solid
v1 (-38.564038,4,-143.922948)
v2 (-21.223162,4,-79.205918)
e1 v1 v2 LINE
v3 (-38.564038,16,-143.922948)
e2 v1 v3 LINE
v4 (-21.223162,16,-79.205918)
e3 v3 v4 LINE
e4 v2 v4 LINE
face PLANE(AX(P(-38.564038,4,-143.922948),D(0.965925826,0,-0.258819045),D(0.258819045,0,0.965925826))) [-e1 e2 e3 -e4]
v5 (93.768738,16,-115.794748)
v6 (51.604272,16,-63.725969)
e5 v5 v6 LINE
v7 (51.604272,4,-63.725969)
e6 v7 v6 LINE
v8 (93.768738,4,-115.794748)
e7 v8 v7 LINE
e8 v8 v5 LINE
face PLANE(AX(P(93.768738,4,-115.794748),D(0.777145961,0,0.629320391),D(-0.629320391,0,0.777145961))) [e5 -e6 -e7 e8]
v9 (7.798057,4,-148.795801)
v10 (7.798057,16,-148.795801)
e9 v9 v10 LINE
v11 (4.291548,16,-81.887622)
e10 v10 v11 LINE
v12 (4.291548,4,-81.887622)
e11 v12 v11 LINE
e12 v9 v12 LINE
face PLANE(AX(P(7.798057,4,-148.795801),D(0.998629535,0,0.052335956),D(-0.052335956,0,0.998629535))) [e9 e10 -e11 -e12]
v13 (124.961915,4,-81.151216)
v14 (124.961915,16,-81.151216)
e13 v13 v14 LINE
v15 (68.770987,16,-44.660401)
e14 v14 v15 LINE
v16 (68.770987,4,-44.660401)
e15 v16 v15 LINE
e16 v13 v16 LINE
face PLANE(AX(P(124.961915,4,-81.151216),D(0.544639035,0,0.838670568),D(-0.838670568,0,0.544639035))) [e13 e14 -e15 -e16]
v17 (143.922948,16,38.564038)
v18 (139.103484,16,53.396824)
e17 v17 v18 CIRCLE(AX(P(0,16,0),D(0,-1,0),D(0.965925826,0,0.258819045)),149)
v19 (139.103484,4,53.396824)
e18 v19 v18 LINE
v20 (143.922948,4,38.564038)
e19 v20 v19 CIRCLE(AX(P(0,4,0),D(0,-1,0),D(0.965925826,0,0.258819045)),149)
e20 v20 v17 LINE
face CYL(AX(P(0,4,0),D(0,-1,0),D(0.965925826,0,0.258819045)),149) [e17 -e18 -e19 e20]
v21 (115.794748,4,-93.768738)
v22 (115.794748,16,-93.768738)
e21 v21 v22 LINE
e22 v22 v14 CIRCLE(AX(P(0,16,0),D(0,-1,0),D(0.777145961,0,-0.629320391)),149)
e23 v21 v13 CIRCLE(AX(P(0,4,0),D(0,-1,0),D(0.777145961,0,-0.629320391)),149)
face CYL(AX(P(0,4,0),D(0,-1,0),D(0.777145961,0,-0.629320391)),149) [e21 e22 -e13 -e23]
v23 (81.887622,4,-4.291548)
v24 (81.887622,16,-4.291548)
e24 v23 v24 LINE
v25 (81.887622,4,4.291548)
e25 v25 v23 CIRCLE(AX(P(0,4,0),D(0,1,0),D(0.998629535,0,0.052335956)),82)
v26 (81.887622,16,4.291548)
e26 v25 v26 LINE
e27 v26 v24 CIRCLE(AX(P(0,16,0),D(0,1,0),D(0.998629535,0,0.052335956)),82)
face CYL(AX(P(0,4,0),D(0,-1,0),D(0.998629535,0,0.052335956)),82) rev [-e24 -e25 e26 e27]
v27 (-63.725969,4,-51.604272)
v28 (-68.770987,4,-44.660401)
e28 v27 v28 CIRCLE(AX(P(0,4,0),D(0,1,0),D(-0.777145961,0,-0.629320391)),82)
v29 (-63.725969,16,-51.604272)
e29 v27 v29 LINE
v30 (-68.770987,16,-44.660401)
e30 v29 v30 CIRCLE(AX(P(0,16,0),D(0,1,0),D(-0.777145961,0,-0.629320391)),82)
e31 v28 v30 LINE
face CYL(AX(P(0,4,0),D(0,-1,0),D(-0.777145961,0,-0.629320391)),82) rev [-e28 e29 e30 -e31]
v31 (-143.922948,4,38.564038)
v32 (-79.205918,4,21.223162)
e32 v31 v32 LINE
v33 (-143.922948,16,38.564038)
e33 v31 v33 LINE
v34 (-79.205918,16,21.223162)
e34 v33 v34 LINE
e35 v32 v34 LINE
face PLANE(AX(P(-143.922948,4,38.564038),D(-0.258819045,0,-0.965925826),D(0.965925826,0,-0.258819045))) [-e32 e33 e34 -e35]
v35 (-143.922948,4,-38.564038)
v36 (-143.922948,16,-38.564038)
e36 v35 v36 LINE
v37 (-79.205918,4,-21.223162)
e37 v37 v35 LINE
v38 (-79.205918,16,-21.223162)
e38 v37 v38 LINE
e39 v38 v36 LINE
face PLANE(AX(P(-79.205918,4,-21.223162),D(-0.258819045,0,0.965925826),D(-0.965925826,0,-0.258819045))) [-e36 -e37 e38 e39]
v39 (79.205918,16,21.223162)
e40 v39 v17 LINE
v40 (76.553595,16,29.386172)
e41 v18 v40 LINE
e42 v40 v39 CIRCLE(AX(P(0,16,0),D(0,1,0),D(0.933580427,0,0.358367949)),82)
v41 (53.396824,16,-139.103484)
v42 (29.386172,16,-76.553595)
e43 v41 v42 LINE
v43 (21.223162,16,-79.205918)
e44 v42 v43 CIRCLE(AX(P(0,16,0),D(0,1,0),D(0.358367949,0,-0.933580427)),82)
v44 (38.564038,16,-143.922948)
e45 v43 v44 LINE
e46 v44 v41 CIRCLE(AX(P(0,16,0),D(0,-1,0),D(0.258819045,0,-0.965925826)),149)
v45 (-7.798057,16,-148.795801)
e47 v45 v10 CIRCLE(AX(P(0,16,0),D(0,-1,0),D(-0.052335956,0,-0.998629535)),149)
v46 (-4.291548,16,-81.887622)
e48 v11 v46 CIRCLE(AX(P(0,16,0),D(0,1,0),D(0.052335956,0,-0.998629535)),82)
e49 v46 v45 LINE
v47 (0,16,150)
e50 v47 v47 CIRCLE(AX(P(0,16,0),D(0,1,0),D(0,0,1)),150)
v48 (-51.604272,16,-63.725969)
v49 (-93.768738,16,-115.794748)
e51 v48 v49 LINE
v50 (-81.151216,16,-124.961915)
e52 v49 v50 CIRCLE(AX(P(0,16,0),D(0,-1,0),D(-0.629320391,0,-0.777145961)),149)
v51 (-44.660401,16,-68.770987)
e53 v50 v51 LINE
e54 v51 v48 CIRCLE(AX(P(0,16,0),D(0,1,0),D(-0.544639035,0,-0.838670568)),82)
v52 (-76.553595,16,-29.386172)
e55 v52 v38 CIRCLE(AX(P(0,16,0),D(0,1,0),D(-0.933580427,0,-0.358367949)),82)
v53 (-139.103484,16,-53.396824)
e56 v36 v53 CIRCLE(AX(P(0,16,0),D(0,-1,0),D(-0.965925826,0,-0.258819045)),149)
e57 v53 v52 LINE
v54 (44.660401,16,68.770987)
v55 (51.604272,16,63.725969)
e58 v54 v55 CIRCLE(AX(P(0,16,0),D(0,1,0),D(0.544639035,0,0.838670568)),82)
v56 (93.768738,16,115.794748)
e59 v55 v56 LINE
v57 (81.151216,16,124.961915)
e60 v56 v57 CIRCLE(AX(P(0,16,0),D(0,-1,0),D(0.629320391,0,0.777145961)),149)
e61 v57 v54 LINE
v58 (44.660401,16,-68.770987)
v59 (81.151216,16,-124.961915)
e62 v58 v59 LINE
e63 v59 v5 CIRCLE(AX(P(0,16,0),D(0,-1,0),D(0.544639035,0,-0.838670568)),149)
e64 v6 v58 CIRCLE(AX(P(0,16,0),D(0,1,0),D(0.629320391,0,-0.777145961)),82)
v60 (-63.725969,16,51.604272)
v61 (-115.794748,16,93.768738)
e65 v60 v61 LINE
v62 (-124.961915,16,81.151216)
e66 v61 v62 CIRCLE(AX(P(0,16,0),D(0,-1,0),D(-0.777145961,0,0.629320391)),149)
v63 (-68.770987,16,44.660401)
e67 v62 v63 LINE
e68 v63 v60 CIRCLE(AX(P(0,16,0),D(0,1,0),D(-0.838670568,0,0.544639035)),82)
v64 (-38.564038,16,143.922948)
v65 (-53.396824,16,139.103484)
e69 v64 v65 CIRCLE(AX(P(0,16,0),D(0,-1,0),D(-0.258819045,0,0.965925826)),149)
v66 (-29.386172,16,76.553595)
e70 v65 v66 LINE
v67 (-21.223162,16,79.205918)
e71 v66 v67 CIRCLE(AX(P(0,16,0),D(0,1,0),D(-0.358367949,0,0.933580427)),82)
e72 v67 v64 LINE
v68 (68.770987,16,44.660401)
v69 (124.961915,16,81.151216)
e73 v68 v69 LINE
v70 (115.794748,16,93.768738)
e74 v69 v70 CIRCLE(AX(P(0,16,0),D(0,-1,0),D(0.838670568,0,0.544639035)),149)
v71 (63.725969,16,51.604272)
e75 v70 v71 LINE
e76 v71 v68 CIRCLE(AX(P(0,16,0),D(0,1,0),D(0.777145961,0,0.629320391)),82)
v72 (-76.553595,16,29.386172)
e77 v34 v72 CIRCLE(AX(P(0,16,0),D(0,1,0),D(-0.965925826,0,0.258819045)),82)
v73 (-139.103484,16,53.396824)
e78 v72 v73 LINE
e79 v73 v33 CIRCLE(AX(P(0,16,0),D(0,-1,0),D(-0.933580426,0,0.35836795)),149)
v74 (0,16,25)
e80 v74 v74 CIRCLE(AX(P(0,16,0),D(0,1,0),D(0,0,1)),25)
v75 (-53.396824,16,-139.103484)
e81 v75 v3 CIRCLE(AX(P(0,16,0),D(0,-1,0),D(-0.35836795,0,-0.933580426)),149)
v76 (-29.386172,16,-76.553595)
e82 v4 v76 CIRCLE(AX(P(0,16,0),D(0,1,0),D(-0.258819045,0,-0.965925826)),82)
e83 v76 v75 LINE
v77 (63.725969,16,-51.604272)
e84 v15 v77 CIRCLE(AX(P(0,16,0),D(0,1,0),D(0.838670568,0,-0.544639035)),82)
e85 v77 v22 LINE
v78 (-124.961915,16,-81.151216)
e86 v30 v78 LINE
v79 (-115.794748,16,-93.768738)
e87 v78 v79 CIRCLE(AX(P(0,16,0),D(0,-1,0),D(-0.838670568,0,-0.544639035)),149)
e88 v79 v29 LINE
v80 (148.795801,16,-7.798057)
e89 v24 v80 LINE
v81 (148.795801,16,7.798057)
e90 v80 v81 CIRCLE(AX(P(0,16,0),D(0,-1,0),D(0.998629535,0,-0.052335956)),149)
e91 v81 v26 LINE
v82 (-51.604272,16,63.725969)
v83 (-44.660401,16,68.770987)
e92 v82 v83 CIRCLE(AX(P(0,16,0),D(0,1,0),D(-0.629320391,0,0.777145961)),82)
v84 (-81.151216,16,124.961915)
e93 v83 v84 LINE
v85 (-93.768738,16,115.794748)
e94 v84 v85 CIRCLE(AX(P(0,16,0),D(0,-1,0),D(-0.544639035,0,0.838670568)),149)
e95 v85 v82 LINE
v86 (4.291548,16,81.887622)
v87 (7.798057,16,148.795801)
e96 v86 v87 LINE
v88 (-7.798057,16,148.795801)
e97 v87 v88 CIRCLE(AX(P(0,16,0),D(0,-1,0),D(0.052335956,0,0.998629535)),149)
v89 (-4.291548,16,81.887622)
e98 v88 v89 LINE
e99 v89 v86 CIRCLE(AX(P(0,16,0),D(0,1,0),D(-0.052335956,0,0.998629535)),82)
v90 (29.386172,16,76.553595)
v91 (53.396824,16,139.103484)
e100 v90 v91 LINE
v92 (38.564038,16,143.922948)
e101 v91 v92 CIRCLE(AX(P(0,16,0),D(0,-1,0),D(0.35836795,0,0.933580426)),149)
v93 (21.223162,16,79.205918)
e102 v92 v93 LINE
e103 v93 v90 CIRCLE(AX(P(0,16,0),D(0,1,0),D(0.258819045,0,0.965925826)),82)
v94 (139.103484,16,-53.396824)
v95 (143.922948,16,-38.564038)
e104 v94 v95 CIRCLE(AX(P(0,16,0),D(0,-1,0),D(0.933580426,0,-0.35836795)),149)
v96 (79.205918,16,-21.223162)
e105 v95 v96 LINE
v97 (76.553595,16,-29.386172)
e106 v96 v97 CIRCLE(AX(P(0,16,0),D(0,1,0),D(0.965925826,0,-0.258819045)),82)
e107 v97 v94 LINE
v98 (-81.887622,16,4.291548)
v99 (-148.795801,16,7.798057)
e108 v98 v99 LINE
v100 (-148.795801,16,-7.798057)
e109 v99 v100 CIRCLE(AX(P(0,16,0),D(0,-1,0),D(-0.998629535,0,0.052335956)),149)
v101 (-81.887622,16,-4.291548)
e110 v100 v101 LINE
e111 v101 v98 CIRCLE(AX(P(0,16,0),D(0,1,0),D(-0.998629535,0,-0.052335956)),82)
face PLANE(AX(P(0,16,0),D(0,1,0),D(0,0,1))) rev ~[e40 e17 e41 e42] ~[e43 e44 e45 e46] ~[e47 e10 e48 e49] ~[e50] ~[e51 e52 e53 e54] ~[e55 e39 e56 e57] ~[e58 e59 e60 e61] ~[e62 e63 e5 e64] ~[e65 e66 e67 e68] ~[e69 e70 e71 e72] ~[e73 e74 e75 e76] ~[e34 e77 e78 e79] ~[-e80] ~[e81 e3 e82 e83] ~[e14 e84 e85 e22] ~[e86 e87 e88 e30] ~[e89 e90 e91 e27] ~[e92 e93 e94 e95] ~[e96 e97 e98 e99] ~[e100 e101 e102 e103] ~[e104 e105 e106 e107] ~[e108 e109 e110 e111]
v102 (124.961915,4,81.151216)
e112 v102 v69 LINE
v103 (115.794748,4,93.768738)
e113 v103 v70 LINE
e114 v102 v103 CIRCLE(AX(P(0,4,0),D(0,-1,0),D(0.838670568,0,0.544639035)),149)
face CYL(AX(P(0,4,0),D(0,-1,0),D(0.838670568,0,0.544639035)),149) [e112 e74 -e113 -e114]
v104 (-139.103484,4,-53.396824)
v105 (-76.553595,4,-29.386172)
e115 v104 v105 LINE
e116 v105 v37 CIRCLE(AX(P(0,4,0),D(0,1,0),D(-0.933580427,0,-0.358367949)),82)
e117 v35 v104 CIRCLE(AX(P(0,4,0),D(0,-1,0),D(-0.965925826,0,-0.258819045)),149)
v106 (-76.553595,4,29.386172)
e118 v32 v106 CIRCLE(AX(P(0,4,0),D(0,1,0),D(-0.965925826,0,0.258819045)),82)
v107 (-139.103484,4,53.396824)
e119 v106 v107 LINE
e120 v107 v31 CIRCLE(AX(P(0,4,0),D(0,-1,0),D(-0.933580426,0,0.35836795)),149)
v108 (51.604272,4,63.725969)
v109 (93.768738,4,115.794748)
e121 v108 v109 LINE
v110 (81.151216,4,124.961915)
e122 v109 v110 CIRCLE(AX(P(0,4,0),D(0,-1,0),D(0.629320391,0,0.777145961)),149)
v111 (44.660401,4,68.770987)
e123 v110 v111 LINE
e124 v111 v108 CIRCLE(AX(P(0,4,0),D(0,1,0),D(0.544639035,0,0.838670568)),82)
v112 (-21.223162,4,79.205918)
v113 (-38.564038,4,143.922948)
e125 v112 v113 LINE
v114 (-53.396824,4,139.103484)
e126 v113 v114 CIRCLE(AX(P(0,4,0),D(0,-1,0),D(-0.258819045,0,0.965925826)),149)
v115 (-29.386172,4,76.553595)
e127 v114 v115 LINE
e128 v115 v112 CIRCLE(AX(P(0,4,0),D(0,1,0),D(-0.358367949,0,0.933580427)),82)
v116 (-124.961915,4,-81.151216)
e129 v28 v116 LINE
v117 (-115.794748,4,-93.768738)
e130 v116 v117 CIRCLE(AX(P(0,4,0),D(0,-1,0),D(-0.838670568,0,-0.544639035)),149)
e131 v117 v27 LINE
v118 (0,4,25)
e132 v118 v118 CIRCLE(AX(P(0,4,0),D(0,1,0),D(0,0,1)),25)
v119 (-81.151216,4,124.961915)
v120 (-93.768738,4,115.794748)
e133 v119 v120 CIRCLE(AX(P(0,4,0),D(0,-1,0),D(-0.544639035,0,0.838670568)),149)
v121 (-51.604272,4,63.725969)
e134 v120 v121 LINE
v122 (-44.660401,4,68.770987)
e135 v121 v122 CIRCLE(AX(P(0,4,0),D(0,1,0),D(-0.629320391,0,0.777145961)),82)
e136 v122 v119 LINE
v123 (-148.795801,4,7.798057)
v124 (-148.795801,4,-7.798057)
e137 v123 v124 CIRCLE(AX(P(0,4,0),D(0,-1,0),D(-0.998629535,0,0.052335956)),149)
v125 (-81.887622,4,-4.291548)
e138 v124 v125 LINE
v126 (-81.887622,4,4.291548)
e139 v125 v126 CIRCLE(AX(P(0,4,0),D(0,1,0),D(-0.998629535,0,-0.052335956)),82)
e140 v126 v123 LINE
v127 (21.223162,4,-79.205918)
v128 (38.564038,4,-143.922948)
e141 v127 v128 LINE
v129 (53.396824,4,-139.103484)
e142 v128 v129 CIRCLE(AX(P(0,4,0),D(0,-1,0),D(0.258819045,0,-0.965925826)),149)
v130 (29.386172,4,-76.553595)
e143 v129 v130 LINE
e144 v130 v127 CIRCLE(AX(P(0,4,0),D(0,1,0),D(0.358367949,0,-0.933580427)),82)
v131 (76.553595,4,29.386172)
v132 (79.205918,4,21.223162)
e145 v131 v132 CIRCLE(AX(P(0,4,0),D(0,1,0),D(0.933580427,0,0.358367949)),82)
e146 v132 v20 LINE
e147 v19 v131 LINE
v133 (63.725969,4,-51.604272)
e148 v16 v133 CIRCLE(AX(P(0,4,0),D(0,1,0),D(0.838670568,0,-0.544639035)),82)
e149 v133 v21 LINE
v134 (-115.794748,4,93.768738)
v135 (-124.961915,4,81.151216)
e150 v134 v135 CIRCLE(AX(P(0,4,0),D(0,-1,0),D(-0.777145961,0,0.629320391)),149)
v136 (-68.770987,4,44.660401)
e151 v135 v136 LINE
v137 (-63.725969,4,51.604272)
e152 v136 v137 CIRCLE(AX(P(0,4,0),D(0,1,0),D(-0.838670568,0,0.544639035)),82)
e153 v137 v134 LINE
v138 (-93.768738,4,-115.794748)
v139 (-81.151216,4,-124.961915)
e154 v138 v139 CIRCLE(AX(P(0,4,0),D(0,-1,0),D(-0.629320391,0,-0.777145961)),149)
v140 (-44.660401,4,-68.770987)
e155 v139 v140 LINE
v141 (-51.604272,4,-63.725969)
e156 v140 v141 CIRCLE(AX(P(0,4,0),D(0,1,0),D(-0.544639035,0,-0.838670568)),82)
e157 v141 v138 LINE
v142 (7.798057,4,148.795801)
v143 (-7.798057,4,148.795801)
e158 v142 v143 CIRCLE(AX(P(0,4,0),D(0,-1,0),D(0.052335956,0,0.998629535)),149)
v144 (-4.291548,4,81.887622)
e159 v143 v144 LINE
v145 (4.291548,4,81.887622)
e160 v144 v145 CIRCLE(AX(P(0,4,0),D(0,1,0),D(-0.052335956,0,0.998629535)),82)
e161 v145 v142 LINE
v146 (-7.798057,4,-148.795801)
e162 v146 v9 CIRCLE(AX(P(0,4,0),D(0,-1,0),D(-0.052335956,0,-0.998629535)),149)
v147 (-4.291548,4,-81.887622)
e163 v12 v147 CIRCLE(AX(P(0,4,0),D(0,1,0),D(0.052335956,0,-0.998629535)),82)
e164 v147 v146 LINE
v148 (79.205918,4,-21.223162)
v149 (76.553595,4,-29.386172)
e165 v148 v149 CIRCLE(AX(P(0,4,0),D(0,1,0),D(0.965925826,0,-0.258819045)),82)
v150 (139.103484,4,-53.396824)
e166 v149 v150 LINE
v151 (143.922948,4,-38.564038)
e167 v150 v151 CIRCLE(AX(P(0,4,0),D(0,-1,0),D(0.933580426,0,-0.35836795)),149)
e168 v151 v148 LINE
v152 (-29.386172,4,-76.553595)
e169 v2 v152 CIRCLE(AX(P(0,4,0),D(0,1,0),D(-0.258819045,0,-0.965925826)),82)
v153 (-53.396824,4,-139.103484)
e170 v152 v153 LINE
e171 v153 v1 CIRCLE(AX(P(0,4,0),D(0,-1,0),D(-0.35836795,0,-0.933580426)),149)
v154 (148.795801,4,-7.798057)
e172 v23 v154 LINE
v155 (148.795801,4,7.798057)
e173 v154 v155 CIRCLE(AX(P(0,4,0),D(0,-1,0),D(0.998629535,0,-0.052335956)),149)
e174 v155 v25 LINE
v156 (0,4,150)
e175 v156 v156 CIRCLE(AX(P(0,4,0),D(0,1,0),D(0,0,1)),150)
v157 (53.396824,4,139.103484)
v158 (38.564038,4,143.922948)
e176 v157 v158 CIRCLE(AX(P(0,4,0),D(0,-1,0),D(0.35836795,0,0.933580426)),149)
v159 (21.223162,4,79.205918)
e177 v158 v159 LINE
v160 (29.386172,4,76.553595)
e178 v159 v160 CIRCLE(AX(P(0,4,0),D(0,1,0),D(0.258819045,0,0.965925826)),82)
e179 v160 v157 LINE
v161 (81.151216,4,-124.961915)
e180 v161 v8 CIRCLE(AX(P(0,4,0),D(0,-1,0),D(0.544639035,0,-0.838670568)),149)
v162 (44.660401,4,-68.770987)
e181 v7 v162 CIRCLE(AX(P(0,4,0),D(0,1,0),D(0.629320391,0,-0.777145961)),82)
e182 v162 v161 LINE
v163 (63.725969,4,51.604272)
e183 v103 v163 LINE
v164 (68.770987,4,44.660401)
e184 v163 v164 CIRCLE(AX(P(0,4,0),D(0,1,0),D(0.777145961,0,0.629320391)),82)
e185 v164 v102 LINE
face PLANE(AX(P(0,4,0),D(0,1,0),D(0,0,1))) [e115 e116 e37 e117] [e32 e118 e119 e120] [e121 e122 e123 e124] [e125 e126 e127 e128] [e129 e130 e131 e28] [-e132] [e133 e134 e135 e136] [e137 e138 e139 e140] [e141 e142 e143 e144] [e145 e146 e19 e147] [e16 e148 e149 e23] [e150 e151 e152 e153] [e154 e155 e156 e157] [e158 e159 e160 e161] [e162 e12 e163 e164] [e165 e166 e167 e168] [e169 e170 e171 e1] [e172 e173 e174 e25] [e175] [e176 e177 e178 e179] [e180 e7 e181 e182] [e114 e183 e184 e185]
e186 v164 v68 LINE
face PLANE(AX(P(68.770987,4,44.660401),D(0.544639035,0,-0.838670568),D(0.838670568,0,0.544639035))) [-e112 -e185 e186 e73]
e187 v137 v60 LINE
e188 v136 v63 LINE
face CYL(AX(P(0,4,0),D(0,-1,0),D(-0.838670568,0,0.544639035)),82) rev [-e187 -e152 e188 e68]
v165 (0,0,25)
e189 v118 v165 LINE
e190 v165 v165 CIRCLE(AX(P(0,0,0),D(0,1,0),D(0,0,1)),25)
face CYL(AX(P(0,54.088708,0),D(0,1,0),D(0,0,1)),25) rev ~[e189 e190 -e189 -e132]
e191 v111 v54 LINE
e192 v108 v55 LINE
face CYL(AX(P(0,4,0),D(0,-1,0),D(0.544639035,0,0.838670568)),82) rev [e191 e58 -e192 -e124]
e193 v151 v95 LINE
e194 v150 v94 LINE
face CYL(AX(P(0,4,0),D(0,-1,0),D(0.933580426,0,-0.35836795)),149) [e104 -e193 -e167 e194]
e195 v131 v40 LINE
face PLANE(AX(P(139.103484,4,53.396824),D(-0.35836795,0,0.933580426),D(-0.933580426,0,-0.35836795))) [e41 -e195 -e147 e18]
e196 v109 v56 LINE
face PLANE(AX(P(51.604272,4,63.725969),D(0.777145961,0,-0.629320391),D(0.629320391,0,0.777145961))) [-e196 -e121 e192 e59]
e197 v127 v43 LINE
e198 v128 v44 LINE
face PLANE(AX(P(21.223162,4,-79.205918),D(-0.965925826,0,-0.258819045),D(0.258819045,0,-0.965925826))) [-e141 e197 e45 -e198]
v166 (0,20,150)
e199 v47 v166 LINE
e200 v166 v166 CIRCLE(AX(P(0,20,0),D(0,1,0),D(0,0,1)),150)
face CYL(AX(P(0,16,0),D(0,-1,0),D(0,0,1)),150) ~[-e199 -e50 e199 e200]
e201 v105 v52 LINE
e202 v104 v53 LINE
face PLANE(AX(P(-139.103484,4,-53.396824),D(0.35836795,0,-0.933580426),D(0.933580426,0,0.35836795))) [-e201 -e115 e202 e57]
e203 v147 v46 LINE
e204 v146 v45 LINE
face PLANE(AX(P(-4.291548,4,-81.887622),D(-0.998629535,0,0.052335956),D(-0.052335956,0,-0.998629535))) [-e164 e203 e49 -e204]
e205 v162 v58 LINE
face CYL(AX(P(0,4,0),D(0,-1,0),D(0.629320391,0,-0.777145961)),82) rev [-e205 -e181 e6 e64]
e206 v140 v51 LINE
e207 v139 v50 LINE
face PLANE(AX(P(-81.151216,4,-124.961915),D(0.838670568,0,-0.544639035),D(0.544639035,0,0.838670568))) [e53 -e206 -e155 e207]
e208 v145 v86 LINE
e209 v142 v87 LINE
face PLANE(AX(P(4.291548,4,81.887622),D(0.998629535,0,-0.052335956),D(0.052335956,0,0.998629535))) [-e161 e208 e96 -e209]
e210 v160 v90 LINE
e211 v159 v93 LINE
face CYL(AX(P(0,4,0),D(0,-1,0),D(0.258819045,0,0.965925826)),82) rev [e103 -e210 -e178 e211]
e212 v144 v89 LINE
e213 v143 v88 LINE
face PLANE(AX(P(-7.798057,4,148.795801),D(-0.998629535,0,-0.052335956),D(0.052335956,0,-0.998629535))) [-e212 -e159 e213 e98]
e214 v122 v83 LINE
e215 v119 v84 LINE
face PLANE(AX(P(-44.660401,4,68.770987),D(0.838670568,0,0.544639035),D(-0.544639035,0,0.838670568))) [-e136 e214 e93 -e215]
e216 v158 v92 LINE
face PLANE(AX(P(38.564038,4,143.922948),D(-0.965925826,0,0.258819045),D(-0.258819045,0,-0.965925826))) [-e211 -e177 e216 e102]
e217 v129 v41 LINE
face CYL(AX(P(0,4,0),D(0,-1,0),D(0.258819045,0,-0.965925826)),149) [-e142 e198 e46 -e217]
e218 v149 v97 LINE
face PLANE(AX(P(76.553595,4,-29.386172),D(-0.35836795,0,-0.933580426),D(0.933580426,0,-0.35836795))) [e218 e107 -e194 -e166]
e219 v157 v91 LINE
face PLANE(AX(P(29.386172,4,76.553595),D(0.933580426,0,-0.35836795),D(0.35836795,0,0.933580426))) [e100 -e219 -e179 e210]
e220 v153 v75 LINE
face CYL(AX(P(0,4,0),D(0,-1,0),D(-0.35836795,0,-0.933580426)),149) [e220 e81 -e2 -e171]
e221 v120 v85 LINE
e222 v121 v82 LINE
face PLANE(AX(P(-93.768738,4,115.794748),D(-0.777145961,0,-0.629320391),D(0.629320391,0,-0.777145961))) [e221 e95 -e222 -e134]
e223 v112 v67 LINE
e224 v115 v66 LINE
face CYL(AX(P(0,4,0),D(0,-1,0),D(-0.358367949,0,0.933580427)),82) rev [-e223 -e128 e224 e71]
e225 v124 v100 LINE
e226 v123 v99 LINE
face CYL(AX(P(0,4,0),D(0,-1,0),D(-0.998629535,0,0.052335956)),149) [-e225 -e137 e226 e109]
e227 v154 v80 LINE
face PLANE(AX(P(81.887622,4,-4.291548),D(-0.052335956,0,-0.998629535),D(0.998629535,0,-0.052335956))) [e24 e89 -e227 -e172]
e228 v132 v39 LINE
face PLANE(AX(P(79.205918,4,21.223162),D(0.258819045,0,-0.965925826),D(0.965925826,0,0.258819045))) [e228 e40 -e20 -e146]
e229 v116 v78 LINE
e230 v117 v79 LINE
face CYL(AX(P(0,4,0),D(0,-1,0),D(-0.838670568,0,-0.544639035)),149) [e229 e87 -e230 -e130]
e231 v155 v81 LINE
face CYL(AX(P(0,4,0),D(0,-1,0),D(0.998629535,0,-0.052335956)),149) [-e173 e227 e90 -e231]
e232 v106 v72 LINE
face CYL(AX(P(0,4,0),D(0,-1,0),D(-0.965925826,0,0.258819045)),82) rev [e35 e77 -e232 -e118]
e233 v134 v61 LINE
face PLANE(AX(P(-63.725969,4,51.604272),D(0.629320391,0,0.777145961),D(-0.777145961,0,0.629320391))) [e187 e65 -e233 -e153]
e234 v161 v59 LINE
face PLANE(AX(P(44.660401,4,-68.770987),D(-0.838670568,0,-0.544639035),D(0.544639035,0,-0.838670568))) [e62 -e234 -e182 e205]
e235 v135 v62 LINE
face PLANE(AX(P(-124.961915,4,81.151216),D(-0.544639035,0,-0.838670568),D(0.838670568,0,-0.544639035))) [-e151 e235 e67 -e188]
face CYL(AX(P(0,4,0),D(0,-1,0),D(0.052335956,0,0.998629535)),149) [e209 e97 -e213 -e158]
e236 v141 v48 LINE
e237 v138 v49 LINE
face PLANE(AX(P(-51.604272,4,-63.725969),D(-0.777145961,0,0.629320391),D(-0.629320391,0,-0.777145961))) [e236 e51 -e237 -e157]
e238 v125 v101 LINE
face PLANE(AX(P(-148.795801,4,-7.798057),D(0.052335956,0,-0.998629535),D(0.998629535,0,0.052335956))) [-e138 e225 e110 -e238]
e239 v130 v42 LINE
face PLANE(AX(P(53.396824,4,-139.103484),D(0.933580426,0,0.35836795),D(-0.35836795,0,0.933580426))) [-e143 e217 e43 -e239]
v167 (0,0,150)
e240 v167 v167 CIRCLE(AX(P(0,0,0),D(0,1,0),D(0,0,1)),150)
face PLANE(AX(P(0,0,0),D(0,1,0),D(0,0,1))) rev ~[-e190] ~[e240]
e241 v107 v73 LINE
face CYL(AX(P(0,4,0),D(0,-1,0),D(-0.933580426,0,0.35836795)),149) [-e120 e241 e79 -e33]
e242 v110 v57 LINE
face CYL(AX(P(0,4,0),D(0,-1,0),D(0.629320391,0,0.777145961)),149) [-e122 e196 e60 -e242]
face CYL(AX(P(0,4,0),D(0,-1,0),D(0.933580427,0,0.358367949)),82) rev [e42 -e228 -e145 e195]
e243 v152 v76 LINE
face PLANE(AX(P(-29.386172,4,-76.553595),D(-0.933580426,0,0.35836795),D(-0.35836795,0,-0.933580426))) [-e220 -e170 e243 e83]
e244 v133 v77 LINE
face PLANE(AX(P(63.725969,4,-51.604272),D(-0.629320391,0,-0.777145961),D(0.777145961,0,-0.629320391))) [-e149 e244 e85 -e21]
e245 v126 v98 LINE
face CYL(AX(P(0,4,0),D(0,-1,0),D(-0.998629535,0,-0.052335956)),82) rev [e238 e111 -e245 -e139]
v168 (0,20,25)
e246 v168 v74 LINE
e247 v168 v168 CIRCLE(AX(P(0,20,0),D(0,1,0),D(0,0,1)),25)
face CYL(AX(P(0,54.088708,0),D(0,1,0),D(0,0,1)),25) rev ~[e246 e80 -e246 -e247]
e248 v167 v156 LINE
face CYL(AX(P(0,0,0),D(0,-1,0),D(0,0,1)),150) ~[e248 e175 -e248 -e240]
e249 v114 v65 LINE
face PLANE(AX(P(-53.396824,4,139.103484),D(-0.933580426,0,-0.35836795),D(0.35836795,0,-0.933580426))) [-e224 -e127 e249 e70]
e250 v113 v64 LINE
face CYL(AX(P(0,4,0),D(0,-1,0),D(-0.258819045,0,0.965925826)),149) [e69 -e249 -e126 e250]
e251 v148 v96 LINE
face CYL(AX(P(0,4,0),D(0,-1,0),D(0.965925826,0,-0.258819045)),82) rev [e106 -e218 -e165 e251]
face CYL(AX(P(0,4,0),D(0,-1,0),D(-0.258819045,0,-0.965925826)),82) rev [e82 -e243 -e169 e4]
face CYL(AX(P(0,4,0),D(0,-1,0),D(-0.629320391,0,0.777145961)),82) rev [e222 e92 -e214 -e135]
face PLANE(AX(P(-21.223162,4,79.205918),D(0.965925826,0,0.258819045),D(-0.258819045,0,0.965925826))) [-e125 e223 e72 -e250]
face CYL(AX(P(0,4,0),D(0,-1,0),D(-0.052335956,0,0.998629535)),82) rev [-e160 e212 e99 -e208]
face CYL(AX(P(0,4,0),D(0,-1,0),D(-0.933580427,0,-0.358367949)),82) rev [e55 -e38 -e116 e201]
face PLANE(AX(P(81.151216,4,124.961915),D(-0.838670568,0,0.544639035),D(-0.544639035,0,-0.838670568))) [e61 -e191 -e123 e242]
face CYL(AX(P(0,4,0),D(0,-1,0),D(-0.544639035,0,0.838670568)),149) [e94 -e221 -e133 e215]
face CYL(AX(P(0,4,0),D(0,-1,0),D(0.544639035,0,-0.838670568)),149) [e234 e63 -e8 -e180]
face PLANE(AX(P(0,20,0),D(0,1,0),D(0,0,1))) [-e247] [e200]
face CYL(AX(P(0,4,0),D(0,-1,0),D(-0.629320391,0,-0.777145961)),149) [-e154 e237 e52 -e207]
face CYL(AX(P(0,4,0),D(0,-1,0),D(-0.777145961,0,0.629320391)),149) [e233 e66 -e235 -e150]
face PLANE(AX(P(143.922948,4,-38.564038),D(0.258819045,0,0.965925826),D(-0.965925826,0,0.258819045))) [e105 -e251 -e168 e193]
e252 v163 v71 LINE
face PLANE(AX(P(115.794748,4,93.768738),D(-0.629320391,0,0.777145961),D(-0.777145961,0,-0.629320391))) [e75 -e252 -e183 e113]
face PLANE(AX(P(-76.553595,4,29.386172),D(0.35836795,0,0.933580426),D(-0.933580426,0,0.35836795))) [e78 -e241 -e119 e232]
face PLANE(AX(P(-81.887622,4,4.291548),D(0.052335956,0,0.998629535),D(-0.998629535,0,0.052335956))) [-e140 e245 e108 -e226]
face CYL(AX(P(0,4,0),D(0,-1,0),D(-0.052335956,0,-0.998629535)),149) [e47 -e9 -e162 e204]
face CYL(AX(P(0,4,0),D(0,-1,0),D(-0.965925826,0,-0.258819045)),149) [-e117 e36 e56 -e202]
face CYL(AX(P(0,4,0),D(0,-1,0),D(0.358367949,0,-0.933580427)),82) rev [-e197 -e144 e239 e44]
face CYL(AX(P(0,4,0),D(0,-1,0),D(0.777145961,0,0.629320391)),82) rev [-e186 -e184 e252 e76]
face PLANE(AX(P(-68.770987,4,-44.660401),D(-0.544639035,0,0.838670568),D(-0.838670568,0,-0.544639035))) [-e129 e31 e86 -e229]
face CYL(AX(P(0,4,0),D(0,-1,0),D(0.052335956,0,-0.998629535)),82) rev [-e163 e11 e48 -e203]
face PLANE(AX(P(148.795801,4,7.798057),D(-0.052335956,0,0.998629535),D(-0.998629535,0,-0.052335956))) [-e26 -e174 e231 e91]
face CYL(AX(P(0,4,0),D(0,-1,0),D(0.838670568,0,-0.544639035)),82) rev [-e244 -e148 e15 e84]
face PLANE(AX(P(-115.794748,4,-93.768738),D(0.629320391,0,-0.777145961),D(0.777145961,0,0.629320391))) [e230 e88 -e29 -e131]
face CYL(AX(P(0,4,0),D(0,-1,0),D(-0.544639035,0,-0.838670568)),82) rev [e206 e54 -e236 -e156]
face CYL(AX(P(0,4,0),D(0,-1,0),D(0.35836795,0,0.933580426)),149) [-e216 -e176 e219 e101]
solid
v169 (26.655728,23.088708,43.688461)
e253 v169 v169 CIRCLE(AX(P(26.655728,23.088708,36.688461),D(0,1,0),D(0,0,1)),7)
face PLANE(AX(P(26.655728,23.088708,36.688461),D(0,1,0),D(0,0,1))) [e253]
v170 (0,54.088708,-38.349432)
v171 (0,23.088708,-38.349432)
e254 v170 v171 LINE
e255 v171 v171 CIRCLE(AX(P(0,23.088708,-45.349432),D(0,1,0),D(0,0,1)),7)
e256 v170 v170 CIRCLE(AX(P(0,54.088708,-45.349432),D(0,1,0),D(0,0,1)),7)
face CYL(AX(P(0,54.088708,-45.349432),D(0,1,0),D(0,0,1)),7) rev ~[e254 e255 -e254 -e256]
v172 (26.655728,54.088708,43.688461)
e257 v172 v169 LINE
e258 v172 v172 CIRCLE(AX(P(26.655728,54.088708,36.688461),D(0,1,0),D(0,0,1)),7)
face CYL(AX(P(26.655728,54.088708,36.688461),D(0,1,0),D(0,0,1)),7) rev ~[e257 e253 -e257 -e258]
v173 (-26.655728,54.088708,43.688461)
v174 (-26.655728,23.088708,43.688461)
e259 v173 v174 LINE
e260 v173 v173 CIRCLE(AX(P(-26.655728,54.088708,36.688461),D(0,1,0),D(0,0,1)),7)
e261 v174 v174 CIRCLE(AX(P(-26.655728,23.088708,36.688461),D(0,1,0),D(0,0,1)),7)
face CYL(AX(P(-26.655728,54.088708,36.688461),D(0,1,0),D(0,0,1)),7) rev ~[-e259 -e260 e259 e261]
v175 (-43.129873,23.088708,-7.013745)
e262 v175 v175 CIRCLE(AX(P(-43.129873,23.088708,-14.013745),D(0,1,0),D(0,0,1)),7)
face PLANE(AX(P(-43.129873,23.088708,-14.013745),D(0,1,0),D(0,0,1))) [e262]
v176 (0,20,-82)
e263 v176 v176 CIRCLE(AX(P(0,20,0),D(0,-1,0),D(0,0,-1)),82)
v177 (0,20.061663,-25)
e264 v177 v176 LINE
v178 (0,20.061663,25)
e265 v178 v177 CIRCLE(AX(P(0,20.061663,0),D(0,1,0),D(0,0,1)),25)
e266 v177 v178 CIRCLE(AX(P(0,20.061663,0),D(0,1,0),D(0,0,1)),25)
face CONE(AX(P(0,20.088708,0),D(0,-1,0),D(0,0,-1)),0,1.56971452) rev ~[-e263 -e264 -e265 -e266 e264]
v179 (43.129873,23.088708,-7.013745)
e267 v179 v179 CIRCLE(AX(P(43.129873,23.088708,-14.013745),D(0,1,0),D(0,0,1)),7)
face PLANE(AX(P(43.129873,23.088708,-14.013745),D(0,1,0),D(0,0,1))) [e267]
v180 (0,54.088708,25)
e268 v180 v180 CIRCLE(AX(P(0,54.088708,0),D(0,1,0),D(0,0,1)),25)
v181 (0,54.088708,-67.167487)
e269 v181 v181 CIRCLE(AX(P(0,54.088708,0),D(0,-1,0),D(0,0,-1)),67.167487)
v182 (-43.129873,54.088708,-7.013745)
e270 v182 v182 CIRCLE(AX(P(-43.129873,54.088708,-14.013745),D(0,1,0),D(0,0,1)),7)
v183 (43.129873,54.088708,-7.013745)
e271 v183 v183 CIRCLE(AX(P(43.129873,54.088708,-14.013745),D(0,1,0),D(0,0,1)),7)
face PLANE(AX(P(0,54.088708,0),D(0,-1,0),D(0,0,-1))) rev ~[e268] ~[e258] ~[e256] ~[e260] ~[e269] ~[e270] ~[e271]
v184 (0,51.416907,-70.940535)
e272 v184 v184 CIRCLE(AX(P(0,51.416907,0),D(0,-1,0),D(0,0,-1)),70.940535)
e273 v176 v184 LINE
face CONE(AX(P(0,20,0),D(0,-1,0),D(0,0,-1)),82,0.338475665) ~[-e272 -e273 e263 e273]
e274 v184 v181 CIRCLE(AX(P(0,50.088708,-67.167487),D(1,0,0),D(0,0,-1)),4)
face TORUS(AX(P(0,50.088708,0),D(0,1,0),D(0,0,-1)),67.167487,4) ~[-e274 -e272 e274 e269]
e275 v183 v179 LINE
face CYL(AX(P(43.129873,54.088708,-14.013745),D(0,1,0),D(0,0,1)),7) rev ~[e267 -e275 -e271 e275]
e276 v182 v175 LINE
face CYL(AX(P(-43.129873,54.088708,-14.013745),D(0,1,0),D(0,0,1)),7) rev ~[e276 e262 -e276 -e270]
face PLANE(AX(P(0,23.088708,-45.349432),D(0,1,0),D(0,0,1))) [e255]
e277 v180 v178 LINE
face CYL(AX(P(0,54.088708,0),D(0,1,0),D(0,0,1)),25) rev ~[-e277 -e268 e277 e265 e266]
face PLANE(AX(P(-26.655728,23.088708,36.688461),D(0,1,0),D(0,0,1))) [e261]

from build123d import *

# Parameters (mm, degrees)
SKETCH1_R           = 150
BOSS_EXTRUDE1_DEPTH = 4
BOSS_EXTRUDE3_DEPTH = 12
SKETCH4_R           = 150
BOSS_EXTRUDE4_DEPTH = 4
FILLET1_R           = 4
SKETCH6_R           = 25
CUT_EXTRUDE1_DEPTH  = 219.919136573
SKETCH7_R           = 7
CUT_EXTRUDE2_DEPTH  = 31


with BuildPart() as part:
    # Sketch1 → Boss-Extrude1 (new body)
    with BuildSketch(Plane(origin=(0, 0, 0), x_dir=(1, 0, 0), z_dir=(0, 1, 0))):
        with Locations(Location((0, 0, 0), (0, 0, 270))):
            Circle(SKETCH1_R)
    extrude(amount=BOSS_EXTRUDE1_DEPTH)

    # Sketch2 → Boss-Extrude3 (add)
    with BuildSketch(Plane(origin=(0, 4, 0), x_dir=(1, 0, 0), z_dir=(0, 1, 0))):
        with BuildLine():
            Line((-4.291548412, 81.88762185), (-7.79805748, 148.795800678))
            ThreePointArc((-7.79805748, 148.795800678), (0, 149), (7.79805748, 148.795800678))
            Line((7.79805748, 148.795800678), (4.291548412, 81.88762185))
            ThreePointArc((4.291548412, 81.88762185), (0, 82), (-4.291548412, 81.88762185))
        make_face()
        with BuildLine():
            Line((21.223161698, 79.205917756), (38.56403772, 143.922948117))
            ThreePointArc((38.56403772, 143.922948117), (46.043532162, 141.707420928), (53.396824482, 139.103483548))
            Line((53.396824482, 139.103483548), (29.386171863, 76.553594973))
            ThreePointArc((29.386171863, 76.553594973), (25.339393539, 77.986634336), (21.223161698, 79.205917756))
        make_face()
        with BuildLine():
            Line((44.660400871, 68.770986572), (81.151216217, 124.961914624))
            ThreePointArc((81.151216217, 124.961914624), (87.580002592, 120.543532162), (93.768738266, 115.794748257))
            Line((93.768738266, 115.794748257), (51.604272066, 63.725968839))
            ThreePointArc((51.604272066, 63.725968839), (48.198390688, 66.339393539), (44.660400871, 68.770986572))
        make_face()
        with BuildLine():
            Line((63.725968839, 51.604272066), (115.794748257, 93.768738266))
            ThreePointArc((115.794748257, 93.768738266), (120.543532162, 87.580002592), (124.961914624, 81.151216217))
            Line((124.961914624, 81.151216217), (68.770986572, 44.660400871))
            ThreePointArc((68.770986572, 44.660400871), (66.339393539, 48.198390688), (63.725968839, 51.604272066))
        make_face()
        with BuildLine():
            Line((76.553594973, 29.386171863), (139.103483548, 53.396824482))
            ThreePointArc((139.103483548, 53.396824482), (141.707420928, 46.043532162), (143.922948117, 38.56403772))
            Line((143.922948117, 38.56403772), (79.205917756, 21.223161698))
            ThreePointArc((79.205917756, 21.223161698), (77.986634336, 25.339393539), (76.553594973, 29.386171863))
        make_face()
        with BuildLine():
            Line((81.88762185, 4.291548412), (148.795800678, 7.79805748))
            ThreePointArc((148.795800678, 7.79805748), (149, 0), (148.795800678, -7.79805748))
            Line((148.795800678, -7.79805748), (81.88762185, -4.291548412))
            ThreePointArc((81.88762185, -4.291548412), (82, 0), (81.88762185, 4.291548412))
        make_face()
        with BuildLine():
            Line((79.205917756, -21.223161698), (143.922948117, -38.56403772))
            ThreePointArc((143.922948117, -38.56403772), (141.707420928, -46.043532162), (139.103483548, -53.396824482))
            Line((139.103483548, -53.396824482), (76.553594973, -29.386171863))
            ThreePointArc((76.553594973, -29.386171863), (77.986634336, -25.339393539), (79.205917756, -21.223161698))
        make_face()
        with BuildLine():
            Line((68.770986572, -44.660400871), (124.961914624, -81.151216217))
            ThreePointArc((124.961914624, -81.151216217), (120.543532162, -87.580002592), (115.794748257, -93.768738266))
            Line((115.794748257, -93.768738266), (63.725968839, -51.604272066))
            ThreePointArc((63.725968839, -51.604272066), (66.339393539, -48.198390688), (68.770986572, -44.660400871))
        make_face()
        with BuildLine():
            Line((51.604272066, -63.725968839), (93.768738266, -115.794748257))
            ThreePointArc((93.768738266, -115.794748257), (87.580002592, -120.543532162), (81.151216217, -124.961914624))
            Line((81.151216217, -124.961914624), (44.660400871, -68.770986572))
            ThreePointArc((44.660400871, -68.770986572), (48.198390688, -66.339393539), (51.604272066, -63.725968839))
        make_face()
        with BuildLine():
            Line((29.386171863, -76.553594973), (53.396824482, -139.103483548))
            ThreePointArc((53.396824482, -139.103483548), (46.043532162, -141.707420928), (38.56403772, -143.922948117))
            Line((38.56403772, -143.922948117), (21.223161698, -79.205917756))
            ThreePointArc((21.223161698, -79.205917756), (25.339393539, -77.986634336), (29.386171863, -76.553594973))
        make_face()
        with BuildLine():
            Line((4.291548412, -81.88762185), (7.79805748, -148.795800678))
            ThreePointArc((7.79805748, -148.795800678), (0, -149), (-7.79805748, -148.795800678))
            Line((-7.79805748, -148.795800678), (-4.291548412, -81.88762185))
            ThreePointArc((-4.291548412, -81.88762185), (0, -82), (4.291548412, -81.88762185))
        make_face()
        with BuildLine():
            Line((-21.223161698, -79.205917756), (-38.56403772, -143.922948117))
            ThreePointArc((-38.56403772, -143.922948117), (-46.043532162, -141.707420928), (-53.396824482, -139.103483548))
            Line((-53.396824482, -139.103483548), (-29.386171863, -76.553594973))
            ThreePointArc((-29.386171863, -76.553594973), (-25.339393539, -77.986634336), (-21.223161698, -79.205917756))
        make_face()
        with BuildLine():
            Line((-44.660400871, -68.770986572), (-81.151216217, -124.961914624))
            ThreePointArc((-81.151216217, -124.961914624), (-87.580002592, -120.543532162), (-93.768738266, -115.794748257))
            Line((-93.768738266, -115.794748257), (-51.604272066, -63.725968839))
            ThreePointArc((-51.604272066, -63.725968839), (-48.198390688, -66.339393539), (-44.660400871, -68.770986572))
        make_face()
        with BuildLine():
            Line((-63.725968839, -51.604272066), (-115.794748257, -93.768738266))
            ThreePointArc((-115.794748257, -93.768738266), (-120.543532162, -87.580002592), (-124.961914624, -81.151216217))
            Line((-124.961914624, -81.151216217), (-68.770986572, -44.660400871))
            ThreePointArc((-68.770986572, -44.660400871), (-66.339393539, -48.198390688), (-63.725968839, -51.604272066))
        make_face()
        with BuildLine():
            Line((-76.553594973, -29.386171863), (-139.103483548, -53.396824482))
            ThreePointArc((-139.103483548, -53.396824482), (-141.707420928, -46.043532162), (-143.922948117, -38.56403772))
            Line((-143.922948117, -38.56403772), (-79.205917756, -21.223161698))
            ThreePointArc((-79.205917756, -21.223161698), (-77.986634336, -25.339393539), (-76.553594973, -29.386171863))
        make_face()
        with BuildLine():
            Line((-81.88762185, -4.291548412), (-148.795800678, -7.79805748))
            ThreePointArc((-148.795800678, -7.79805748), (-149, 0), (-148.795800678, 7.79805748))
            Line((-148.795800678, 7.79805748), (-81.88762185, 4.291548412))
            ThreePointArc((-81.88762185, 4.291548412), (-82, 0), (-81.88762185, -4.291548412))
        make_face()
        with BuildLine():
            Line((-79.205917756, 21.223161698), (-143.922948117, 38.56403772))
            ThreePointArc((-143.922948117, 38.56403772), (-141.707420928, 46.043532162), (-139.103483548, 53.396824482))
            Line((-139.103483548, 53.396824482), (-76.553594973, 29.386171863))
            ThreePointArc((-76.553594973, 29.386171863), (-77.986634336, 25.339393539), (-79.205917756, 21.223161698))
        make_face()
        with BuildLine():
            Line((-68.770986572, 44.660400871), (-124.961914624, 81.151216217))
            ThreePointArc((-124.961914624, 81.151216217), (-120.543532162, 87.580002592), (-115.794748257, 93.768738266))
            Line((-115.794748257, 93.768738266), (-63.725968839, 51.604272066))
            ThreePointArc((-63.725968839, 51.604272066), (-66.339393539, 48.198390688), (-68.770986572, 44.660400871))
        make_face()
        with BuildLine():
            Line((-51.604272066, 63.725968839), (-93.768738266, 115.794748257))
            ThreePointArc((-93.768738266, 115.794748257), (-87.580002592, 120.543532162), (-81.151216217, 124.961914624))
            Line((-81.151216217, 124.961914624), (-44.660400871, 68.770986572))
            ThreePointArc((-44.660400871, 68.770986572), (-48.198390688, 66.339393539), (-51.604272066, 63.725968839))
        make_face()
        with BuildLine():
            Line((-29.386171863, 76.553594973), (-53.396824482, 139.103483548))
            ThreePointArc((-53.396824482, 139.103483548), (-46.043532162, 141.707420928), (-38.56403772, 143.922948117))
            Line((-38.56403772, 143.922948117), (-21.223161698, 79.205917756))
            ThreePointArc((-21.223161698, 79.205917756), (-25.339393539, 77.986634336), (-29.386171863, 76.553594973))
        make_face()
    extrude(amount=BOSS_EXTRUDE3_DEPTH)

    # Sketch4 → Boss-Extrude4 (add)
    with BuildSketch(Plane(origin=(0, 16, 0), x_dir=(1, 0, 0), z_dir=(0, 1, 0))):
        with Locations(Location((0, 0, 0), (0, 0, 270))):
            Circle(SKETCH4_R)
    extrude(amount=BOSS_EXTRUDE4_DEPTH)


with BuildPart() as body_2:
    # Sketch5 → Revolve1 (revolve)
    with BuildSketch(Plane.XY, mode=Mode.PRIVATE) as revolve1_sk:
        Polygon((0, 20.08870823), (-82, 20), (-70, 54.08870823), (0, 54.08870823), align=None)
    revolve(revolve1_sk.sketch.rotate(Axis((0, 54.08870823, 0), (0, -1, 0)), 90), axis=Axis((0, 54.08870823, 0), (0, -1, 0)))

    # Fillet1
    fillet1_edges = [body_2.edges().sort_by_distance(p)[0] for p in [
        (0, 54.08870823, 70),
    ]]
    fillet(fillet1_edges, radius=FILLET1_R)


with BuildPart() as cut_extrude1_tool:
    # Sketch6 → Cut-Extrude1 (new, through all)
    with BuildSketch(Plane(origin=(0, 54.08870823, 0), x_dir=(1, 0, 0), z_dir=(0, 1, 0))):
        with Locations(Location((0, 0, 0), (0, 0, 270))):
            Circle(SKETCH6_R)
    extrude(amount=-CUT_EXTRUDE1_DEPTH)


with BuildPart() as part_1:
    add(part.part)

    # Cut-Extrude1: cut by cut_extrude1_tool
    add(cut_extrude1_tool.part, mode=Mode.SUBTRACT)


with BuildPart() as body_2_1:
    add(body_2.part)

    # Cut-Extrude1: cut by cut_extrude1_tool
    add(cut_extrude1_tool.part, mode=Mode.SUBTRACT)

    # Sketch7 → Cut-Extrude2 (cut)
    with BuildSketch(Plane(origin=(0, 54.08870823, 0), x_dir=(1, 0, 0), z_dir=(0, 1, 0))):
        with Locations(Location((0, 45.34943229, 0), (0, 0, 270))):
            Circle(SKETCH7_R)
        with Locations(Location((43.12987309, 14.013745263, 0), (0, 0, 270))):
            Circle(SKETCH7_R)
        with Locations(Location((26.6557275, -36.688461408, 0), (0, 0, 270))):
            Circle(SKETCH7_R)
        with Locations(Location((-26.6557275, -36.688461408, 0), (0, 0, 270))):
            Circle(SKETCH7_R)
        with Locations(Location((-43.12987309, 14.013745263, 0), (0, 0, 270))):
            Circle(SKETCH7_R)
    extrude(amount=-CUT_EXTRUDE2_DEPTH, mode=Mode.SUBTRACT)


solid = Compound([part_1.part, body_2_1.part])
